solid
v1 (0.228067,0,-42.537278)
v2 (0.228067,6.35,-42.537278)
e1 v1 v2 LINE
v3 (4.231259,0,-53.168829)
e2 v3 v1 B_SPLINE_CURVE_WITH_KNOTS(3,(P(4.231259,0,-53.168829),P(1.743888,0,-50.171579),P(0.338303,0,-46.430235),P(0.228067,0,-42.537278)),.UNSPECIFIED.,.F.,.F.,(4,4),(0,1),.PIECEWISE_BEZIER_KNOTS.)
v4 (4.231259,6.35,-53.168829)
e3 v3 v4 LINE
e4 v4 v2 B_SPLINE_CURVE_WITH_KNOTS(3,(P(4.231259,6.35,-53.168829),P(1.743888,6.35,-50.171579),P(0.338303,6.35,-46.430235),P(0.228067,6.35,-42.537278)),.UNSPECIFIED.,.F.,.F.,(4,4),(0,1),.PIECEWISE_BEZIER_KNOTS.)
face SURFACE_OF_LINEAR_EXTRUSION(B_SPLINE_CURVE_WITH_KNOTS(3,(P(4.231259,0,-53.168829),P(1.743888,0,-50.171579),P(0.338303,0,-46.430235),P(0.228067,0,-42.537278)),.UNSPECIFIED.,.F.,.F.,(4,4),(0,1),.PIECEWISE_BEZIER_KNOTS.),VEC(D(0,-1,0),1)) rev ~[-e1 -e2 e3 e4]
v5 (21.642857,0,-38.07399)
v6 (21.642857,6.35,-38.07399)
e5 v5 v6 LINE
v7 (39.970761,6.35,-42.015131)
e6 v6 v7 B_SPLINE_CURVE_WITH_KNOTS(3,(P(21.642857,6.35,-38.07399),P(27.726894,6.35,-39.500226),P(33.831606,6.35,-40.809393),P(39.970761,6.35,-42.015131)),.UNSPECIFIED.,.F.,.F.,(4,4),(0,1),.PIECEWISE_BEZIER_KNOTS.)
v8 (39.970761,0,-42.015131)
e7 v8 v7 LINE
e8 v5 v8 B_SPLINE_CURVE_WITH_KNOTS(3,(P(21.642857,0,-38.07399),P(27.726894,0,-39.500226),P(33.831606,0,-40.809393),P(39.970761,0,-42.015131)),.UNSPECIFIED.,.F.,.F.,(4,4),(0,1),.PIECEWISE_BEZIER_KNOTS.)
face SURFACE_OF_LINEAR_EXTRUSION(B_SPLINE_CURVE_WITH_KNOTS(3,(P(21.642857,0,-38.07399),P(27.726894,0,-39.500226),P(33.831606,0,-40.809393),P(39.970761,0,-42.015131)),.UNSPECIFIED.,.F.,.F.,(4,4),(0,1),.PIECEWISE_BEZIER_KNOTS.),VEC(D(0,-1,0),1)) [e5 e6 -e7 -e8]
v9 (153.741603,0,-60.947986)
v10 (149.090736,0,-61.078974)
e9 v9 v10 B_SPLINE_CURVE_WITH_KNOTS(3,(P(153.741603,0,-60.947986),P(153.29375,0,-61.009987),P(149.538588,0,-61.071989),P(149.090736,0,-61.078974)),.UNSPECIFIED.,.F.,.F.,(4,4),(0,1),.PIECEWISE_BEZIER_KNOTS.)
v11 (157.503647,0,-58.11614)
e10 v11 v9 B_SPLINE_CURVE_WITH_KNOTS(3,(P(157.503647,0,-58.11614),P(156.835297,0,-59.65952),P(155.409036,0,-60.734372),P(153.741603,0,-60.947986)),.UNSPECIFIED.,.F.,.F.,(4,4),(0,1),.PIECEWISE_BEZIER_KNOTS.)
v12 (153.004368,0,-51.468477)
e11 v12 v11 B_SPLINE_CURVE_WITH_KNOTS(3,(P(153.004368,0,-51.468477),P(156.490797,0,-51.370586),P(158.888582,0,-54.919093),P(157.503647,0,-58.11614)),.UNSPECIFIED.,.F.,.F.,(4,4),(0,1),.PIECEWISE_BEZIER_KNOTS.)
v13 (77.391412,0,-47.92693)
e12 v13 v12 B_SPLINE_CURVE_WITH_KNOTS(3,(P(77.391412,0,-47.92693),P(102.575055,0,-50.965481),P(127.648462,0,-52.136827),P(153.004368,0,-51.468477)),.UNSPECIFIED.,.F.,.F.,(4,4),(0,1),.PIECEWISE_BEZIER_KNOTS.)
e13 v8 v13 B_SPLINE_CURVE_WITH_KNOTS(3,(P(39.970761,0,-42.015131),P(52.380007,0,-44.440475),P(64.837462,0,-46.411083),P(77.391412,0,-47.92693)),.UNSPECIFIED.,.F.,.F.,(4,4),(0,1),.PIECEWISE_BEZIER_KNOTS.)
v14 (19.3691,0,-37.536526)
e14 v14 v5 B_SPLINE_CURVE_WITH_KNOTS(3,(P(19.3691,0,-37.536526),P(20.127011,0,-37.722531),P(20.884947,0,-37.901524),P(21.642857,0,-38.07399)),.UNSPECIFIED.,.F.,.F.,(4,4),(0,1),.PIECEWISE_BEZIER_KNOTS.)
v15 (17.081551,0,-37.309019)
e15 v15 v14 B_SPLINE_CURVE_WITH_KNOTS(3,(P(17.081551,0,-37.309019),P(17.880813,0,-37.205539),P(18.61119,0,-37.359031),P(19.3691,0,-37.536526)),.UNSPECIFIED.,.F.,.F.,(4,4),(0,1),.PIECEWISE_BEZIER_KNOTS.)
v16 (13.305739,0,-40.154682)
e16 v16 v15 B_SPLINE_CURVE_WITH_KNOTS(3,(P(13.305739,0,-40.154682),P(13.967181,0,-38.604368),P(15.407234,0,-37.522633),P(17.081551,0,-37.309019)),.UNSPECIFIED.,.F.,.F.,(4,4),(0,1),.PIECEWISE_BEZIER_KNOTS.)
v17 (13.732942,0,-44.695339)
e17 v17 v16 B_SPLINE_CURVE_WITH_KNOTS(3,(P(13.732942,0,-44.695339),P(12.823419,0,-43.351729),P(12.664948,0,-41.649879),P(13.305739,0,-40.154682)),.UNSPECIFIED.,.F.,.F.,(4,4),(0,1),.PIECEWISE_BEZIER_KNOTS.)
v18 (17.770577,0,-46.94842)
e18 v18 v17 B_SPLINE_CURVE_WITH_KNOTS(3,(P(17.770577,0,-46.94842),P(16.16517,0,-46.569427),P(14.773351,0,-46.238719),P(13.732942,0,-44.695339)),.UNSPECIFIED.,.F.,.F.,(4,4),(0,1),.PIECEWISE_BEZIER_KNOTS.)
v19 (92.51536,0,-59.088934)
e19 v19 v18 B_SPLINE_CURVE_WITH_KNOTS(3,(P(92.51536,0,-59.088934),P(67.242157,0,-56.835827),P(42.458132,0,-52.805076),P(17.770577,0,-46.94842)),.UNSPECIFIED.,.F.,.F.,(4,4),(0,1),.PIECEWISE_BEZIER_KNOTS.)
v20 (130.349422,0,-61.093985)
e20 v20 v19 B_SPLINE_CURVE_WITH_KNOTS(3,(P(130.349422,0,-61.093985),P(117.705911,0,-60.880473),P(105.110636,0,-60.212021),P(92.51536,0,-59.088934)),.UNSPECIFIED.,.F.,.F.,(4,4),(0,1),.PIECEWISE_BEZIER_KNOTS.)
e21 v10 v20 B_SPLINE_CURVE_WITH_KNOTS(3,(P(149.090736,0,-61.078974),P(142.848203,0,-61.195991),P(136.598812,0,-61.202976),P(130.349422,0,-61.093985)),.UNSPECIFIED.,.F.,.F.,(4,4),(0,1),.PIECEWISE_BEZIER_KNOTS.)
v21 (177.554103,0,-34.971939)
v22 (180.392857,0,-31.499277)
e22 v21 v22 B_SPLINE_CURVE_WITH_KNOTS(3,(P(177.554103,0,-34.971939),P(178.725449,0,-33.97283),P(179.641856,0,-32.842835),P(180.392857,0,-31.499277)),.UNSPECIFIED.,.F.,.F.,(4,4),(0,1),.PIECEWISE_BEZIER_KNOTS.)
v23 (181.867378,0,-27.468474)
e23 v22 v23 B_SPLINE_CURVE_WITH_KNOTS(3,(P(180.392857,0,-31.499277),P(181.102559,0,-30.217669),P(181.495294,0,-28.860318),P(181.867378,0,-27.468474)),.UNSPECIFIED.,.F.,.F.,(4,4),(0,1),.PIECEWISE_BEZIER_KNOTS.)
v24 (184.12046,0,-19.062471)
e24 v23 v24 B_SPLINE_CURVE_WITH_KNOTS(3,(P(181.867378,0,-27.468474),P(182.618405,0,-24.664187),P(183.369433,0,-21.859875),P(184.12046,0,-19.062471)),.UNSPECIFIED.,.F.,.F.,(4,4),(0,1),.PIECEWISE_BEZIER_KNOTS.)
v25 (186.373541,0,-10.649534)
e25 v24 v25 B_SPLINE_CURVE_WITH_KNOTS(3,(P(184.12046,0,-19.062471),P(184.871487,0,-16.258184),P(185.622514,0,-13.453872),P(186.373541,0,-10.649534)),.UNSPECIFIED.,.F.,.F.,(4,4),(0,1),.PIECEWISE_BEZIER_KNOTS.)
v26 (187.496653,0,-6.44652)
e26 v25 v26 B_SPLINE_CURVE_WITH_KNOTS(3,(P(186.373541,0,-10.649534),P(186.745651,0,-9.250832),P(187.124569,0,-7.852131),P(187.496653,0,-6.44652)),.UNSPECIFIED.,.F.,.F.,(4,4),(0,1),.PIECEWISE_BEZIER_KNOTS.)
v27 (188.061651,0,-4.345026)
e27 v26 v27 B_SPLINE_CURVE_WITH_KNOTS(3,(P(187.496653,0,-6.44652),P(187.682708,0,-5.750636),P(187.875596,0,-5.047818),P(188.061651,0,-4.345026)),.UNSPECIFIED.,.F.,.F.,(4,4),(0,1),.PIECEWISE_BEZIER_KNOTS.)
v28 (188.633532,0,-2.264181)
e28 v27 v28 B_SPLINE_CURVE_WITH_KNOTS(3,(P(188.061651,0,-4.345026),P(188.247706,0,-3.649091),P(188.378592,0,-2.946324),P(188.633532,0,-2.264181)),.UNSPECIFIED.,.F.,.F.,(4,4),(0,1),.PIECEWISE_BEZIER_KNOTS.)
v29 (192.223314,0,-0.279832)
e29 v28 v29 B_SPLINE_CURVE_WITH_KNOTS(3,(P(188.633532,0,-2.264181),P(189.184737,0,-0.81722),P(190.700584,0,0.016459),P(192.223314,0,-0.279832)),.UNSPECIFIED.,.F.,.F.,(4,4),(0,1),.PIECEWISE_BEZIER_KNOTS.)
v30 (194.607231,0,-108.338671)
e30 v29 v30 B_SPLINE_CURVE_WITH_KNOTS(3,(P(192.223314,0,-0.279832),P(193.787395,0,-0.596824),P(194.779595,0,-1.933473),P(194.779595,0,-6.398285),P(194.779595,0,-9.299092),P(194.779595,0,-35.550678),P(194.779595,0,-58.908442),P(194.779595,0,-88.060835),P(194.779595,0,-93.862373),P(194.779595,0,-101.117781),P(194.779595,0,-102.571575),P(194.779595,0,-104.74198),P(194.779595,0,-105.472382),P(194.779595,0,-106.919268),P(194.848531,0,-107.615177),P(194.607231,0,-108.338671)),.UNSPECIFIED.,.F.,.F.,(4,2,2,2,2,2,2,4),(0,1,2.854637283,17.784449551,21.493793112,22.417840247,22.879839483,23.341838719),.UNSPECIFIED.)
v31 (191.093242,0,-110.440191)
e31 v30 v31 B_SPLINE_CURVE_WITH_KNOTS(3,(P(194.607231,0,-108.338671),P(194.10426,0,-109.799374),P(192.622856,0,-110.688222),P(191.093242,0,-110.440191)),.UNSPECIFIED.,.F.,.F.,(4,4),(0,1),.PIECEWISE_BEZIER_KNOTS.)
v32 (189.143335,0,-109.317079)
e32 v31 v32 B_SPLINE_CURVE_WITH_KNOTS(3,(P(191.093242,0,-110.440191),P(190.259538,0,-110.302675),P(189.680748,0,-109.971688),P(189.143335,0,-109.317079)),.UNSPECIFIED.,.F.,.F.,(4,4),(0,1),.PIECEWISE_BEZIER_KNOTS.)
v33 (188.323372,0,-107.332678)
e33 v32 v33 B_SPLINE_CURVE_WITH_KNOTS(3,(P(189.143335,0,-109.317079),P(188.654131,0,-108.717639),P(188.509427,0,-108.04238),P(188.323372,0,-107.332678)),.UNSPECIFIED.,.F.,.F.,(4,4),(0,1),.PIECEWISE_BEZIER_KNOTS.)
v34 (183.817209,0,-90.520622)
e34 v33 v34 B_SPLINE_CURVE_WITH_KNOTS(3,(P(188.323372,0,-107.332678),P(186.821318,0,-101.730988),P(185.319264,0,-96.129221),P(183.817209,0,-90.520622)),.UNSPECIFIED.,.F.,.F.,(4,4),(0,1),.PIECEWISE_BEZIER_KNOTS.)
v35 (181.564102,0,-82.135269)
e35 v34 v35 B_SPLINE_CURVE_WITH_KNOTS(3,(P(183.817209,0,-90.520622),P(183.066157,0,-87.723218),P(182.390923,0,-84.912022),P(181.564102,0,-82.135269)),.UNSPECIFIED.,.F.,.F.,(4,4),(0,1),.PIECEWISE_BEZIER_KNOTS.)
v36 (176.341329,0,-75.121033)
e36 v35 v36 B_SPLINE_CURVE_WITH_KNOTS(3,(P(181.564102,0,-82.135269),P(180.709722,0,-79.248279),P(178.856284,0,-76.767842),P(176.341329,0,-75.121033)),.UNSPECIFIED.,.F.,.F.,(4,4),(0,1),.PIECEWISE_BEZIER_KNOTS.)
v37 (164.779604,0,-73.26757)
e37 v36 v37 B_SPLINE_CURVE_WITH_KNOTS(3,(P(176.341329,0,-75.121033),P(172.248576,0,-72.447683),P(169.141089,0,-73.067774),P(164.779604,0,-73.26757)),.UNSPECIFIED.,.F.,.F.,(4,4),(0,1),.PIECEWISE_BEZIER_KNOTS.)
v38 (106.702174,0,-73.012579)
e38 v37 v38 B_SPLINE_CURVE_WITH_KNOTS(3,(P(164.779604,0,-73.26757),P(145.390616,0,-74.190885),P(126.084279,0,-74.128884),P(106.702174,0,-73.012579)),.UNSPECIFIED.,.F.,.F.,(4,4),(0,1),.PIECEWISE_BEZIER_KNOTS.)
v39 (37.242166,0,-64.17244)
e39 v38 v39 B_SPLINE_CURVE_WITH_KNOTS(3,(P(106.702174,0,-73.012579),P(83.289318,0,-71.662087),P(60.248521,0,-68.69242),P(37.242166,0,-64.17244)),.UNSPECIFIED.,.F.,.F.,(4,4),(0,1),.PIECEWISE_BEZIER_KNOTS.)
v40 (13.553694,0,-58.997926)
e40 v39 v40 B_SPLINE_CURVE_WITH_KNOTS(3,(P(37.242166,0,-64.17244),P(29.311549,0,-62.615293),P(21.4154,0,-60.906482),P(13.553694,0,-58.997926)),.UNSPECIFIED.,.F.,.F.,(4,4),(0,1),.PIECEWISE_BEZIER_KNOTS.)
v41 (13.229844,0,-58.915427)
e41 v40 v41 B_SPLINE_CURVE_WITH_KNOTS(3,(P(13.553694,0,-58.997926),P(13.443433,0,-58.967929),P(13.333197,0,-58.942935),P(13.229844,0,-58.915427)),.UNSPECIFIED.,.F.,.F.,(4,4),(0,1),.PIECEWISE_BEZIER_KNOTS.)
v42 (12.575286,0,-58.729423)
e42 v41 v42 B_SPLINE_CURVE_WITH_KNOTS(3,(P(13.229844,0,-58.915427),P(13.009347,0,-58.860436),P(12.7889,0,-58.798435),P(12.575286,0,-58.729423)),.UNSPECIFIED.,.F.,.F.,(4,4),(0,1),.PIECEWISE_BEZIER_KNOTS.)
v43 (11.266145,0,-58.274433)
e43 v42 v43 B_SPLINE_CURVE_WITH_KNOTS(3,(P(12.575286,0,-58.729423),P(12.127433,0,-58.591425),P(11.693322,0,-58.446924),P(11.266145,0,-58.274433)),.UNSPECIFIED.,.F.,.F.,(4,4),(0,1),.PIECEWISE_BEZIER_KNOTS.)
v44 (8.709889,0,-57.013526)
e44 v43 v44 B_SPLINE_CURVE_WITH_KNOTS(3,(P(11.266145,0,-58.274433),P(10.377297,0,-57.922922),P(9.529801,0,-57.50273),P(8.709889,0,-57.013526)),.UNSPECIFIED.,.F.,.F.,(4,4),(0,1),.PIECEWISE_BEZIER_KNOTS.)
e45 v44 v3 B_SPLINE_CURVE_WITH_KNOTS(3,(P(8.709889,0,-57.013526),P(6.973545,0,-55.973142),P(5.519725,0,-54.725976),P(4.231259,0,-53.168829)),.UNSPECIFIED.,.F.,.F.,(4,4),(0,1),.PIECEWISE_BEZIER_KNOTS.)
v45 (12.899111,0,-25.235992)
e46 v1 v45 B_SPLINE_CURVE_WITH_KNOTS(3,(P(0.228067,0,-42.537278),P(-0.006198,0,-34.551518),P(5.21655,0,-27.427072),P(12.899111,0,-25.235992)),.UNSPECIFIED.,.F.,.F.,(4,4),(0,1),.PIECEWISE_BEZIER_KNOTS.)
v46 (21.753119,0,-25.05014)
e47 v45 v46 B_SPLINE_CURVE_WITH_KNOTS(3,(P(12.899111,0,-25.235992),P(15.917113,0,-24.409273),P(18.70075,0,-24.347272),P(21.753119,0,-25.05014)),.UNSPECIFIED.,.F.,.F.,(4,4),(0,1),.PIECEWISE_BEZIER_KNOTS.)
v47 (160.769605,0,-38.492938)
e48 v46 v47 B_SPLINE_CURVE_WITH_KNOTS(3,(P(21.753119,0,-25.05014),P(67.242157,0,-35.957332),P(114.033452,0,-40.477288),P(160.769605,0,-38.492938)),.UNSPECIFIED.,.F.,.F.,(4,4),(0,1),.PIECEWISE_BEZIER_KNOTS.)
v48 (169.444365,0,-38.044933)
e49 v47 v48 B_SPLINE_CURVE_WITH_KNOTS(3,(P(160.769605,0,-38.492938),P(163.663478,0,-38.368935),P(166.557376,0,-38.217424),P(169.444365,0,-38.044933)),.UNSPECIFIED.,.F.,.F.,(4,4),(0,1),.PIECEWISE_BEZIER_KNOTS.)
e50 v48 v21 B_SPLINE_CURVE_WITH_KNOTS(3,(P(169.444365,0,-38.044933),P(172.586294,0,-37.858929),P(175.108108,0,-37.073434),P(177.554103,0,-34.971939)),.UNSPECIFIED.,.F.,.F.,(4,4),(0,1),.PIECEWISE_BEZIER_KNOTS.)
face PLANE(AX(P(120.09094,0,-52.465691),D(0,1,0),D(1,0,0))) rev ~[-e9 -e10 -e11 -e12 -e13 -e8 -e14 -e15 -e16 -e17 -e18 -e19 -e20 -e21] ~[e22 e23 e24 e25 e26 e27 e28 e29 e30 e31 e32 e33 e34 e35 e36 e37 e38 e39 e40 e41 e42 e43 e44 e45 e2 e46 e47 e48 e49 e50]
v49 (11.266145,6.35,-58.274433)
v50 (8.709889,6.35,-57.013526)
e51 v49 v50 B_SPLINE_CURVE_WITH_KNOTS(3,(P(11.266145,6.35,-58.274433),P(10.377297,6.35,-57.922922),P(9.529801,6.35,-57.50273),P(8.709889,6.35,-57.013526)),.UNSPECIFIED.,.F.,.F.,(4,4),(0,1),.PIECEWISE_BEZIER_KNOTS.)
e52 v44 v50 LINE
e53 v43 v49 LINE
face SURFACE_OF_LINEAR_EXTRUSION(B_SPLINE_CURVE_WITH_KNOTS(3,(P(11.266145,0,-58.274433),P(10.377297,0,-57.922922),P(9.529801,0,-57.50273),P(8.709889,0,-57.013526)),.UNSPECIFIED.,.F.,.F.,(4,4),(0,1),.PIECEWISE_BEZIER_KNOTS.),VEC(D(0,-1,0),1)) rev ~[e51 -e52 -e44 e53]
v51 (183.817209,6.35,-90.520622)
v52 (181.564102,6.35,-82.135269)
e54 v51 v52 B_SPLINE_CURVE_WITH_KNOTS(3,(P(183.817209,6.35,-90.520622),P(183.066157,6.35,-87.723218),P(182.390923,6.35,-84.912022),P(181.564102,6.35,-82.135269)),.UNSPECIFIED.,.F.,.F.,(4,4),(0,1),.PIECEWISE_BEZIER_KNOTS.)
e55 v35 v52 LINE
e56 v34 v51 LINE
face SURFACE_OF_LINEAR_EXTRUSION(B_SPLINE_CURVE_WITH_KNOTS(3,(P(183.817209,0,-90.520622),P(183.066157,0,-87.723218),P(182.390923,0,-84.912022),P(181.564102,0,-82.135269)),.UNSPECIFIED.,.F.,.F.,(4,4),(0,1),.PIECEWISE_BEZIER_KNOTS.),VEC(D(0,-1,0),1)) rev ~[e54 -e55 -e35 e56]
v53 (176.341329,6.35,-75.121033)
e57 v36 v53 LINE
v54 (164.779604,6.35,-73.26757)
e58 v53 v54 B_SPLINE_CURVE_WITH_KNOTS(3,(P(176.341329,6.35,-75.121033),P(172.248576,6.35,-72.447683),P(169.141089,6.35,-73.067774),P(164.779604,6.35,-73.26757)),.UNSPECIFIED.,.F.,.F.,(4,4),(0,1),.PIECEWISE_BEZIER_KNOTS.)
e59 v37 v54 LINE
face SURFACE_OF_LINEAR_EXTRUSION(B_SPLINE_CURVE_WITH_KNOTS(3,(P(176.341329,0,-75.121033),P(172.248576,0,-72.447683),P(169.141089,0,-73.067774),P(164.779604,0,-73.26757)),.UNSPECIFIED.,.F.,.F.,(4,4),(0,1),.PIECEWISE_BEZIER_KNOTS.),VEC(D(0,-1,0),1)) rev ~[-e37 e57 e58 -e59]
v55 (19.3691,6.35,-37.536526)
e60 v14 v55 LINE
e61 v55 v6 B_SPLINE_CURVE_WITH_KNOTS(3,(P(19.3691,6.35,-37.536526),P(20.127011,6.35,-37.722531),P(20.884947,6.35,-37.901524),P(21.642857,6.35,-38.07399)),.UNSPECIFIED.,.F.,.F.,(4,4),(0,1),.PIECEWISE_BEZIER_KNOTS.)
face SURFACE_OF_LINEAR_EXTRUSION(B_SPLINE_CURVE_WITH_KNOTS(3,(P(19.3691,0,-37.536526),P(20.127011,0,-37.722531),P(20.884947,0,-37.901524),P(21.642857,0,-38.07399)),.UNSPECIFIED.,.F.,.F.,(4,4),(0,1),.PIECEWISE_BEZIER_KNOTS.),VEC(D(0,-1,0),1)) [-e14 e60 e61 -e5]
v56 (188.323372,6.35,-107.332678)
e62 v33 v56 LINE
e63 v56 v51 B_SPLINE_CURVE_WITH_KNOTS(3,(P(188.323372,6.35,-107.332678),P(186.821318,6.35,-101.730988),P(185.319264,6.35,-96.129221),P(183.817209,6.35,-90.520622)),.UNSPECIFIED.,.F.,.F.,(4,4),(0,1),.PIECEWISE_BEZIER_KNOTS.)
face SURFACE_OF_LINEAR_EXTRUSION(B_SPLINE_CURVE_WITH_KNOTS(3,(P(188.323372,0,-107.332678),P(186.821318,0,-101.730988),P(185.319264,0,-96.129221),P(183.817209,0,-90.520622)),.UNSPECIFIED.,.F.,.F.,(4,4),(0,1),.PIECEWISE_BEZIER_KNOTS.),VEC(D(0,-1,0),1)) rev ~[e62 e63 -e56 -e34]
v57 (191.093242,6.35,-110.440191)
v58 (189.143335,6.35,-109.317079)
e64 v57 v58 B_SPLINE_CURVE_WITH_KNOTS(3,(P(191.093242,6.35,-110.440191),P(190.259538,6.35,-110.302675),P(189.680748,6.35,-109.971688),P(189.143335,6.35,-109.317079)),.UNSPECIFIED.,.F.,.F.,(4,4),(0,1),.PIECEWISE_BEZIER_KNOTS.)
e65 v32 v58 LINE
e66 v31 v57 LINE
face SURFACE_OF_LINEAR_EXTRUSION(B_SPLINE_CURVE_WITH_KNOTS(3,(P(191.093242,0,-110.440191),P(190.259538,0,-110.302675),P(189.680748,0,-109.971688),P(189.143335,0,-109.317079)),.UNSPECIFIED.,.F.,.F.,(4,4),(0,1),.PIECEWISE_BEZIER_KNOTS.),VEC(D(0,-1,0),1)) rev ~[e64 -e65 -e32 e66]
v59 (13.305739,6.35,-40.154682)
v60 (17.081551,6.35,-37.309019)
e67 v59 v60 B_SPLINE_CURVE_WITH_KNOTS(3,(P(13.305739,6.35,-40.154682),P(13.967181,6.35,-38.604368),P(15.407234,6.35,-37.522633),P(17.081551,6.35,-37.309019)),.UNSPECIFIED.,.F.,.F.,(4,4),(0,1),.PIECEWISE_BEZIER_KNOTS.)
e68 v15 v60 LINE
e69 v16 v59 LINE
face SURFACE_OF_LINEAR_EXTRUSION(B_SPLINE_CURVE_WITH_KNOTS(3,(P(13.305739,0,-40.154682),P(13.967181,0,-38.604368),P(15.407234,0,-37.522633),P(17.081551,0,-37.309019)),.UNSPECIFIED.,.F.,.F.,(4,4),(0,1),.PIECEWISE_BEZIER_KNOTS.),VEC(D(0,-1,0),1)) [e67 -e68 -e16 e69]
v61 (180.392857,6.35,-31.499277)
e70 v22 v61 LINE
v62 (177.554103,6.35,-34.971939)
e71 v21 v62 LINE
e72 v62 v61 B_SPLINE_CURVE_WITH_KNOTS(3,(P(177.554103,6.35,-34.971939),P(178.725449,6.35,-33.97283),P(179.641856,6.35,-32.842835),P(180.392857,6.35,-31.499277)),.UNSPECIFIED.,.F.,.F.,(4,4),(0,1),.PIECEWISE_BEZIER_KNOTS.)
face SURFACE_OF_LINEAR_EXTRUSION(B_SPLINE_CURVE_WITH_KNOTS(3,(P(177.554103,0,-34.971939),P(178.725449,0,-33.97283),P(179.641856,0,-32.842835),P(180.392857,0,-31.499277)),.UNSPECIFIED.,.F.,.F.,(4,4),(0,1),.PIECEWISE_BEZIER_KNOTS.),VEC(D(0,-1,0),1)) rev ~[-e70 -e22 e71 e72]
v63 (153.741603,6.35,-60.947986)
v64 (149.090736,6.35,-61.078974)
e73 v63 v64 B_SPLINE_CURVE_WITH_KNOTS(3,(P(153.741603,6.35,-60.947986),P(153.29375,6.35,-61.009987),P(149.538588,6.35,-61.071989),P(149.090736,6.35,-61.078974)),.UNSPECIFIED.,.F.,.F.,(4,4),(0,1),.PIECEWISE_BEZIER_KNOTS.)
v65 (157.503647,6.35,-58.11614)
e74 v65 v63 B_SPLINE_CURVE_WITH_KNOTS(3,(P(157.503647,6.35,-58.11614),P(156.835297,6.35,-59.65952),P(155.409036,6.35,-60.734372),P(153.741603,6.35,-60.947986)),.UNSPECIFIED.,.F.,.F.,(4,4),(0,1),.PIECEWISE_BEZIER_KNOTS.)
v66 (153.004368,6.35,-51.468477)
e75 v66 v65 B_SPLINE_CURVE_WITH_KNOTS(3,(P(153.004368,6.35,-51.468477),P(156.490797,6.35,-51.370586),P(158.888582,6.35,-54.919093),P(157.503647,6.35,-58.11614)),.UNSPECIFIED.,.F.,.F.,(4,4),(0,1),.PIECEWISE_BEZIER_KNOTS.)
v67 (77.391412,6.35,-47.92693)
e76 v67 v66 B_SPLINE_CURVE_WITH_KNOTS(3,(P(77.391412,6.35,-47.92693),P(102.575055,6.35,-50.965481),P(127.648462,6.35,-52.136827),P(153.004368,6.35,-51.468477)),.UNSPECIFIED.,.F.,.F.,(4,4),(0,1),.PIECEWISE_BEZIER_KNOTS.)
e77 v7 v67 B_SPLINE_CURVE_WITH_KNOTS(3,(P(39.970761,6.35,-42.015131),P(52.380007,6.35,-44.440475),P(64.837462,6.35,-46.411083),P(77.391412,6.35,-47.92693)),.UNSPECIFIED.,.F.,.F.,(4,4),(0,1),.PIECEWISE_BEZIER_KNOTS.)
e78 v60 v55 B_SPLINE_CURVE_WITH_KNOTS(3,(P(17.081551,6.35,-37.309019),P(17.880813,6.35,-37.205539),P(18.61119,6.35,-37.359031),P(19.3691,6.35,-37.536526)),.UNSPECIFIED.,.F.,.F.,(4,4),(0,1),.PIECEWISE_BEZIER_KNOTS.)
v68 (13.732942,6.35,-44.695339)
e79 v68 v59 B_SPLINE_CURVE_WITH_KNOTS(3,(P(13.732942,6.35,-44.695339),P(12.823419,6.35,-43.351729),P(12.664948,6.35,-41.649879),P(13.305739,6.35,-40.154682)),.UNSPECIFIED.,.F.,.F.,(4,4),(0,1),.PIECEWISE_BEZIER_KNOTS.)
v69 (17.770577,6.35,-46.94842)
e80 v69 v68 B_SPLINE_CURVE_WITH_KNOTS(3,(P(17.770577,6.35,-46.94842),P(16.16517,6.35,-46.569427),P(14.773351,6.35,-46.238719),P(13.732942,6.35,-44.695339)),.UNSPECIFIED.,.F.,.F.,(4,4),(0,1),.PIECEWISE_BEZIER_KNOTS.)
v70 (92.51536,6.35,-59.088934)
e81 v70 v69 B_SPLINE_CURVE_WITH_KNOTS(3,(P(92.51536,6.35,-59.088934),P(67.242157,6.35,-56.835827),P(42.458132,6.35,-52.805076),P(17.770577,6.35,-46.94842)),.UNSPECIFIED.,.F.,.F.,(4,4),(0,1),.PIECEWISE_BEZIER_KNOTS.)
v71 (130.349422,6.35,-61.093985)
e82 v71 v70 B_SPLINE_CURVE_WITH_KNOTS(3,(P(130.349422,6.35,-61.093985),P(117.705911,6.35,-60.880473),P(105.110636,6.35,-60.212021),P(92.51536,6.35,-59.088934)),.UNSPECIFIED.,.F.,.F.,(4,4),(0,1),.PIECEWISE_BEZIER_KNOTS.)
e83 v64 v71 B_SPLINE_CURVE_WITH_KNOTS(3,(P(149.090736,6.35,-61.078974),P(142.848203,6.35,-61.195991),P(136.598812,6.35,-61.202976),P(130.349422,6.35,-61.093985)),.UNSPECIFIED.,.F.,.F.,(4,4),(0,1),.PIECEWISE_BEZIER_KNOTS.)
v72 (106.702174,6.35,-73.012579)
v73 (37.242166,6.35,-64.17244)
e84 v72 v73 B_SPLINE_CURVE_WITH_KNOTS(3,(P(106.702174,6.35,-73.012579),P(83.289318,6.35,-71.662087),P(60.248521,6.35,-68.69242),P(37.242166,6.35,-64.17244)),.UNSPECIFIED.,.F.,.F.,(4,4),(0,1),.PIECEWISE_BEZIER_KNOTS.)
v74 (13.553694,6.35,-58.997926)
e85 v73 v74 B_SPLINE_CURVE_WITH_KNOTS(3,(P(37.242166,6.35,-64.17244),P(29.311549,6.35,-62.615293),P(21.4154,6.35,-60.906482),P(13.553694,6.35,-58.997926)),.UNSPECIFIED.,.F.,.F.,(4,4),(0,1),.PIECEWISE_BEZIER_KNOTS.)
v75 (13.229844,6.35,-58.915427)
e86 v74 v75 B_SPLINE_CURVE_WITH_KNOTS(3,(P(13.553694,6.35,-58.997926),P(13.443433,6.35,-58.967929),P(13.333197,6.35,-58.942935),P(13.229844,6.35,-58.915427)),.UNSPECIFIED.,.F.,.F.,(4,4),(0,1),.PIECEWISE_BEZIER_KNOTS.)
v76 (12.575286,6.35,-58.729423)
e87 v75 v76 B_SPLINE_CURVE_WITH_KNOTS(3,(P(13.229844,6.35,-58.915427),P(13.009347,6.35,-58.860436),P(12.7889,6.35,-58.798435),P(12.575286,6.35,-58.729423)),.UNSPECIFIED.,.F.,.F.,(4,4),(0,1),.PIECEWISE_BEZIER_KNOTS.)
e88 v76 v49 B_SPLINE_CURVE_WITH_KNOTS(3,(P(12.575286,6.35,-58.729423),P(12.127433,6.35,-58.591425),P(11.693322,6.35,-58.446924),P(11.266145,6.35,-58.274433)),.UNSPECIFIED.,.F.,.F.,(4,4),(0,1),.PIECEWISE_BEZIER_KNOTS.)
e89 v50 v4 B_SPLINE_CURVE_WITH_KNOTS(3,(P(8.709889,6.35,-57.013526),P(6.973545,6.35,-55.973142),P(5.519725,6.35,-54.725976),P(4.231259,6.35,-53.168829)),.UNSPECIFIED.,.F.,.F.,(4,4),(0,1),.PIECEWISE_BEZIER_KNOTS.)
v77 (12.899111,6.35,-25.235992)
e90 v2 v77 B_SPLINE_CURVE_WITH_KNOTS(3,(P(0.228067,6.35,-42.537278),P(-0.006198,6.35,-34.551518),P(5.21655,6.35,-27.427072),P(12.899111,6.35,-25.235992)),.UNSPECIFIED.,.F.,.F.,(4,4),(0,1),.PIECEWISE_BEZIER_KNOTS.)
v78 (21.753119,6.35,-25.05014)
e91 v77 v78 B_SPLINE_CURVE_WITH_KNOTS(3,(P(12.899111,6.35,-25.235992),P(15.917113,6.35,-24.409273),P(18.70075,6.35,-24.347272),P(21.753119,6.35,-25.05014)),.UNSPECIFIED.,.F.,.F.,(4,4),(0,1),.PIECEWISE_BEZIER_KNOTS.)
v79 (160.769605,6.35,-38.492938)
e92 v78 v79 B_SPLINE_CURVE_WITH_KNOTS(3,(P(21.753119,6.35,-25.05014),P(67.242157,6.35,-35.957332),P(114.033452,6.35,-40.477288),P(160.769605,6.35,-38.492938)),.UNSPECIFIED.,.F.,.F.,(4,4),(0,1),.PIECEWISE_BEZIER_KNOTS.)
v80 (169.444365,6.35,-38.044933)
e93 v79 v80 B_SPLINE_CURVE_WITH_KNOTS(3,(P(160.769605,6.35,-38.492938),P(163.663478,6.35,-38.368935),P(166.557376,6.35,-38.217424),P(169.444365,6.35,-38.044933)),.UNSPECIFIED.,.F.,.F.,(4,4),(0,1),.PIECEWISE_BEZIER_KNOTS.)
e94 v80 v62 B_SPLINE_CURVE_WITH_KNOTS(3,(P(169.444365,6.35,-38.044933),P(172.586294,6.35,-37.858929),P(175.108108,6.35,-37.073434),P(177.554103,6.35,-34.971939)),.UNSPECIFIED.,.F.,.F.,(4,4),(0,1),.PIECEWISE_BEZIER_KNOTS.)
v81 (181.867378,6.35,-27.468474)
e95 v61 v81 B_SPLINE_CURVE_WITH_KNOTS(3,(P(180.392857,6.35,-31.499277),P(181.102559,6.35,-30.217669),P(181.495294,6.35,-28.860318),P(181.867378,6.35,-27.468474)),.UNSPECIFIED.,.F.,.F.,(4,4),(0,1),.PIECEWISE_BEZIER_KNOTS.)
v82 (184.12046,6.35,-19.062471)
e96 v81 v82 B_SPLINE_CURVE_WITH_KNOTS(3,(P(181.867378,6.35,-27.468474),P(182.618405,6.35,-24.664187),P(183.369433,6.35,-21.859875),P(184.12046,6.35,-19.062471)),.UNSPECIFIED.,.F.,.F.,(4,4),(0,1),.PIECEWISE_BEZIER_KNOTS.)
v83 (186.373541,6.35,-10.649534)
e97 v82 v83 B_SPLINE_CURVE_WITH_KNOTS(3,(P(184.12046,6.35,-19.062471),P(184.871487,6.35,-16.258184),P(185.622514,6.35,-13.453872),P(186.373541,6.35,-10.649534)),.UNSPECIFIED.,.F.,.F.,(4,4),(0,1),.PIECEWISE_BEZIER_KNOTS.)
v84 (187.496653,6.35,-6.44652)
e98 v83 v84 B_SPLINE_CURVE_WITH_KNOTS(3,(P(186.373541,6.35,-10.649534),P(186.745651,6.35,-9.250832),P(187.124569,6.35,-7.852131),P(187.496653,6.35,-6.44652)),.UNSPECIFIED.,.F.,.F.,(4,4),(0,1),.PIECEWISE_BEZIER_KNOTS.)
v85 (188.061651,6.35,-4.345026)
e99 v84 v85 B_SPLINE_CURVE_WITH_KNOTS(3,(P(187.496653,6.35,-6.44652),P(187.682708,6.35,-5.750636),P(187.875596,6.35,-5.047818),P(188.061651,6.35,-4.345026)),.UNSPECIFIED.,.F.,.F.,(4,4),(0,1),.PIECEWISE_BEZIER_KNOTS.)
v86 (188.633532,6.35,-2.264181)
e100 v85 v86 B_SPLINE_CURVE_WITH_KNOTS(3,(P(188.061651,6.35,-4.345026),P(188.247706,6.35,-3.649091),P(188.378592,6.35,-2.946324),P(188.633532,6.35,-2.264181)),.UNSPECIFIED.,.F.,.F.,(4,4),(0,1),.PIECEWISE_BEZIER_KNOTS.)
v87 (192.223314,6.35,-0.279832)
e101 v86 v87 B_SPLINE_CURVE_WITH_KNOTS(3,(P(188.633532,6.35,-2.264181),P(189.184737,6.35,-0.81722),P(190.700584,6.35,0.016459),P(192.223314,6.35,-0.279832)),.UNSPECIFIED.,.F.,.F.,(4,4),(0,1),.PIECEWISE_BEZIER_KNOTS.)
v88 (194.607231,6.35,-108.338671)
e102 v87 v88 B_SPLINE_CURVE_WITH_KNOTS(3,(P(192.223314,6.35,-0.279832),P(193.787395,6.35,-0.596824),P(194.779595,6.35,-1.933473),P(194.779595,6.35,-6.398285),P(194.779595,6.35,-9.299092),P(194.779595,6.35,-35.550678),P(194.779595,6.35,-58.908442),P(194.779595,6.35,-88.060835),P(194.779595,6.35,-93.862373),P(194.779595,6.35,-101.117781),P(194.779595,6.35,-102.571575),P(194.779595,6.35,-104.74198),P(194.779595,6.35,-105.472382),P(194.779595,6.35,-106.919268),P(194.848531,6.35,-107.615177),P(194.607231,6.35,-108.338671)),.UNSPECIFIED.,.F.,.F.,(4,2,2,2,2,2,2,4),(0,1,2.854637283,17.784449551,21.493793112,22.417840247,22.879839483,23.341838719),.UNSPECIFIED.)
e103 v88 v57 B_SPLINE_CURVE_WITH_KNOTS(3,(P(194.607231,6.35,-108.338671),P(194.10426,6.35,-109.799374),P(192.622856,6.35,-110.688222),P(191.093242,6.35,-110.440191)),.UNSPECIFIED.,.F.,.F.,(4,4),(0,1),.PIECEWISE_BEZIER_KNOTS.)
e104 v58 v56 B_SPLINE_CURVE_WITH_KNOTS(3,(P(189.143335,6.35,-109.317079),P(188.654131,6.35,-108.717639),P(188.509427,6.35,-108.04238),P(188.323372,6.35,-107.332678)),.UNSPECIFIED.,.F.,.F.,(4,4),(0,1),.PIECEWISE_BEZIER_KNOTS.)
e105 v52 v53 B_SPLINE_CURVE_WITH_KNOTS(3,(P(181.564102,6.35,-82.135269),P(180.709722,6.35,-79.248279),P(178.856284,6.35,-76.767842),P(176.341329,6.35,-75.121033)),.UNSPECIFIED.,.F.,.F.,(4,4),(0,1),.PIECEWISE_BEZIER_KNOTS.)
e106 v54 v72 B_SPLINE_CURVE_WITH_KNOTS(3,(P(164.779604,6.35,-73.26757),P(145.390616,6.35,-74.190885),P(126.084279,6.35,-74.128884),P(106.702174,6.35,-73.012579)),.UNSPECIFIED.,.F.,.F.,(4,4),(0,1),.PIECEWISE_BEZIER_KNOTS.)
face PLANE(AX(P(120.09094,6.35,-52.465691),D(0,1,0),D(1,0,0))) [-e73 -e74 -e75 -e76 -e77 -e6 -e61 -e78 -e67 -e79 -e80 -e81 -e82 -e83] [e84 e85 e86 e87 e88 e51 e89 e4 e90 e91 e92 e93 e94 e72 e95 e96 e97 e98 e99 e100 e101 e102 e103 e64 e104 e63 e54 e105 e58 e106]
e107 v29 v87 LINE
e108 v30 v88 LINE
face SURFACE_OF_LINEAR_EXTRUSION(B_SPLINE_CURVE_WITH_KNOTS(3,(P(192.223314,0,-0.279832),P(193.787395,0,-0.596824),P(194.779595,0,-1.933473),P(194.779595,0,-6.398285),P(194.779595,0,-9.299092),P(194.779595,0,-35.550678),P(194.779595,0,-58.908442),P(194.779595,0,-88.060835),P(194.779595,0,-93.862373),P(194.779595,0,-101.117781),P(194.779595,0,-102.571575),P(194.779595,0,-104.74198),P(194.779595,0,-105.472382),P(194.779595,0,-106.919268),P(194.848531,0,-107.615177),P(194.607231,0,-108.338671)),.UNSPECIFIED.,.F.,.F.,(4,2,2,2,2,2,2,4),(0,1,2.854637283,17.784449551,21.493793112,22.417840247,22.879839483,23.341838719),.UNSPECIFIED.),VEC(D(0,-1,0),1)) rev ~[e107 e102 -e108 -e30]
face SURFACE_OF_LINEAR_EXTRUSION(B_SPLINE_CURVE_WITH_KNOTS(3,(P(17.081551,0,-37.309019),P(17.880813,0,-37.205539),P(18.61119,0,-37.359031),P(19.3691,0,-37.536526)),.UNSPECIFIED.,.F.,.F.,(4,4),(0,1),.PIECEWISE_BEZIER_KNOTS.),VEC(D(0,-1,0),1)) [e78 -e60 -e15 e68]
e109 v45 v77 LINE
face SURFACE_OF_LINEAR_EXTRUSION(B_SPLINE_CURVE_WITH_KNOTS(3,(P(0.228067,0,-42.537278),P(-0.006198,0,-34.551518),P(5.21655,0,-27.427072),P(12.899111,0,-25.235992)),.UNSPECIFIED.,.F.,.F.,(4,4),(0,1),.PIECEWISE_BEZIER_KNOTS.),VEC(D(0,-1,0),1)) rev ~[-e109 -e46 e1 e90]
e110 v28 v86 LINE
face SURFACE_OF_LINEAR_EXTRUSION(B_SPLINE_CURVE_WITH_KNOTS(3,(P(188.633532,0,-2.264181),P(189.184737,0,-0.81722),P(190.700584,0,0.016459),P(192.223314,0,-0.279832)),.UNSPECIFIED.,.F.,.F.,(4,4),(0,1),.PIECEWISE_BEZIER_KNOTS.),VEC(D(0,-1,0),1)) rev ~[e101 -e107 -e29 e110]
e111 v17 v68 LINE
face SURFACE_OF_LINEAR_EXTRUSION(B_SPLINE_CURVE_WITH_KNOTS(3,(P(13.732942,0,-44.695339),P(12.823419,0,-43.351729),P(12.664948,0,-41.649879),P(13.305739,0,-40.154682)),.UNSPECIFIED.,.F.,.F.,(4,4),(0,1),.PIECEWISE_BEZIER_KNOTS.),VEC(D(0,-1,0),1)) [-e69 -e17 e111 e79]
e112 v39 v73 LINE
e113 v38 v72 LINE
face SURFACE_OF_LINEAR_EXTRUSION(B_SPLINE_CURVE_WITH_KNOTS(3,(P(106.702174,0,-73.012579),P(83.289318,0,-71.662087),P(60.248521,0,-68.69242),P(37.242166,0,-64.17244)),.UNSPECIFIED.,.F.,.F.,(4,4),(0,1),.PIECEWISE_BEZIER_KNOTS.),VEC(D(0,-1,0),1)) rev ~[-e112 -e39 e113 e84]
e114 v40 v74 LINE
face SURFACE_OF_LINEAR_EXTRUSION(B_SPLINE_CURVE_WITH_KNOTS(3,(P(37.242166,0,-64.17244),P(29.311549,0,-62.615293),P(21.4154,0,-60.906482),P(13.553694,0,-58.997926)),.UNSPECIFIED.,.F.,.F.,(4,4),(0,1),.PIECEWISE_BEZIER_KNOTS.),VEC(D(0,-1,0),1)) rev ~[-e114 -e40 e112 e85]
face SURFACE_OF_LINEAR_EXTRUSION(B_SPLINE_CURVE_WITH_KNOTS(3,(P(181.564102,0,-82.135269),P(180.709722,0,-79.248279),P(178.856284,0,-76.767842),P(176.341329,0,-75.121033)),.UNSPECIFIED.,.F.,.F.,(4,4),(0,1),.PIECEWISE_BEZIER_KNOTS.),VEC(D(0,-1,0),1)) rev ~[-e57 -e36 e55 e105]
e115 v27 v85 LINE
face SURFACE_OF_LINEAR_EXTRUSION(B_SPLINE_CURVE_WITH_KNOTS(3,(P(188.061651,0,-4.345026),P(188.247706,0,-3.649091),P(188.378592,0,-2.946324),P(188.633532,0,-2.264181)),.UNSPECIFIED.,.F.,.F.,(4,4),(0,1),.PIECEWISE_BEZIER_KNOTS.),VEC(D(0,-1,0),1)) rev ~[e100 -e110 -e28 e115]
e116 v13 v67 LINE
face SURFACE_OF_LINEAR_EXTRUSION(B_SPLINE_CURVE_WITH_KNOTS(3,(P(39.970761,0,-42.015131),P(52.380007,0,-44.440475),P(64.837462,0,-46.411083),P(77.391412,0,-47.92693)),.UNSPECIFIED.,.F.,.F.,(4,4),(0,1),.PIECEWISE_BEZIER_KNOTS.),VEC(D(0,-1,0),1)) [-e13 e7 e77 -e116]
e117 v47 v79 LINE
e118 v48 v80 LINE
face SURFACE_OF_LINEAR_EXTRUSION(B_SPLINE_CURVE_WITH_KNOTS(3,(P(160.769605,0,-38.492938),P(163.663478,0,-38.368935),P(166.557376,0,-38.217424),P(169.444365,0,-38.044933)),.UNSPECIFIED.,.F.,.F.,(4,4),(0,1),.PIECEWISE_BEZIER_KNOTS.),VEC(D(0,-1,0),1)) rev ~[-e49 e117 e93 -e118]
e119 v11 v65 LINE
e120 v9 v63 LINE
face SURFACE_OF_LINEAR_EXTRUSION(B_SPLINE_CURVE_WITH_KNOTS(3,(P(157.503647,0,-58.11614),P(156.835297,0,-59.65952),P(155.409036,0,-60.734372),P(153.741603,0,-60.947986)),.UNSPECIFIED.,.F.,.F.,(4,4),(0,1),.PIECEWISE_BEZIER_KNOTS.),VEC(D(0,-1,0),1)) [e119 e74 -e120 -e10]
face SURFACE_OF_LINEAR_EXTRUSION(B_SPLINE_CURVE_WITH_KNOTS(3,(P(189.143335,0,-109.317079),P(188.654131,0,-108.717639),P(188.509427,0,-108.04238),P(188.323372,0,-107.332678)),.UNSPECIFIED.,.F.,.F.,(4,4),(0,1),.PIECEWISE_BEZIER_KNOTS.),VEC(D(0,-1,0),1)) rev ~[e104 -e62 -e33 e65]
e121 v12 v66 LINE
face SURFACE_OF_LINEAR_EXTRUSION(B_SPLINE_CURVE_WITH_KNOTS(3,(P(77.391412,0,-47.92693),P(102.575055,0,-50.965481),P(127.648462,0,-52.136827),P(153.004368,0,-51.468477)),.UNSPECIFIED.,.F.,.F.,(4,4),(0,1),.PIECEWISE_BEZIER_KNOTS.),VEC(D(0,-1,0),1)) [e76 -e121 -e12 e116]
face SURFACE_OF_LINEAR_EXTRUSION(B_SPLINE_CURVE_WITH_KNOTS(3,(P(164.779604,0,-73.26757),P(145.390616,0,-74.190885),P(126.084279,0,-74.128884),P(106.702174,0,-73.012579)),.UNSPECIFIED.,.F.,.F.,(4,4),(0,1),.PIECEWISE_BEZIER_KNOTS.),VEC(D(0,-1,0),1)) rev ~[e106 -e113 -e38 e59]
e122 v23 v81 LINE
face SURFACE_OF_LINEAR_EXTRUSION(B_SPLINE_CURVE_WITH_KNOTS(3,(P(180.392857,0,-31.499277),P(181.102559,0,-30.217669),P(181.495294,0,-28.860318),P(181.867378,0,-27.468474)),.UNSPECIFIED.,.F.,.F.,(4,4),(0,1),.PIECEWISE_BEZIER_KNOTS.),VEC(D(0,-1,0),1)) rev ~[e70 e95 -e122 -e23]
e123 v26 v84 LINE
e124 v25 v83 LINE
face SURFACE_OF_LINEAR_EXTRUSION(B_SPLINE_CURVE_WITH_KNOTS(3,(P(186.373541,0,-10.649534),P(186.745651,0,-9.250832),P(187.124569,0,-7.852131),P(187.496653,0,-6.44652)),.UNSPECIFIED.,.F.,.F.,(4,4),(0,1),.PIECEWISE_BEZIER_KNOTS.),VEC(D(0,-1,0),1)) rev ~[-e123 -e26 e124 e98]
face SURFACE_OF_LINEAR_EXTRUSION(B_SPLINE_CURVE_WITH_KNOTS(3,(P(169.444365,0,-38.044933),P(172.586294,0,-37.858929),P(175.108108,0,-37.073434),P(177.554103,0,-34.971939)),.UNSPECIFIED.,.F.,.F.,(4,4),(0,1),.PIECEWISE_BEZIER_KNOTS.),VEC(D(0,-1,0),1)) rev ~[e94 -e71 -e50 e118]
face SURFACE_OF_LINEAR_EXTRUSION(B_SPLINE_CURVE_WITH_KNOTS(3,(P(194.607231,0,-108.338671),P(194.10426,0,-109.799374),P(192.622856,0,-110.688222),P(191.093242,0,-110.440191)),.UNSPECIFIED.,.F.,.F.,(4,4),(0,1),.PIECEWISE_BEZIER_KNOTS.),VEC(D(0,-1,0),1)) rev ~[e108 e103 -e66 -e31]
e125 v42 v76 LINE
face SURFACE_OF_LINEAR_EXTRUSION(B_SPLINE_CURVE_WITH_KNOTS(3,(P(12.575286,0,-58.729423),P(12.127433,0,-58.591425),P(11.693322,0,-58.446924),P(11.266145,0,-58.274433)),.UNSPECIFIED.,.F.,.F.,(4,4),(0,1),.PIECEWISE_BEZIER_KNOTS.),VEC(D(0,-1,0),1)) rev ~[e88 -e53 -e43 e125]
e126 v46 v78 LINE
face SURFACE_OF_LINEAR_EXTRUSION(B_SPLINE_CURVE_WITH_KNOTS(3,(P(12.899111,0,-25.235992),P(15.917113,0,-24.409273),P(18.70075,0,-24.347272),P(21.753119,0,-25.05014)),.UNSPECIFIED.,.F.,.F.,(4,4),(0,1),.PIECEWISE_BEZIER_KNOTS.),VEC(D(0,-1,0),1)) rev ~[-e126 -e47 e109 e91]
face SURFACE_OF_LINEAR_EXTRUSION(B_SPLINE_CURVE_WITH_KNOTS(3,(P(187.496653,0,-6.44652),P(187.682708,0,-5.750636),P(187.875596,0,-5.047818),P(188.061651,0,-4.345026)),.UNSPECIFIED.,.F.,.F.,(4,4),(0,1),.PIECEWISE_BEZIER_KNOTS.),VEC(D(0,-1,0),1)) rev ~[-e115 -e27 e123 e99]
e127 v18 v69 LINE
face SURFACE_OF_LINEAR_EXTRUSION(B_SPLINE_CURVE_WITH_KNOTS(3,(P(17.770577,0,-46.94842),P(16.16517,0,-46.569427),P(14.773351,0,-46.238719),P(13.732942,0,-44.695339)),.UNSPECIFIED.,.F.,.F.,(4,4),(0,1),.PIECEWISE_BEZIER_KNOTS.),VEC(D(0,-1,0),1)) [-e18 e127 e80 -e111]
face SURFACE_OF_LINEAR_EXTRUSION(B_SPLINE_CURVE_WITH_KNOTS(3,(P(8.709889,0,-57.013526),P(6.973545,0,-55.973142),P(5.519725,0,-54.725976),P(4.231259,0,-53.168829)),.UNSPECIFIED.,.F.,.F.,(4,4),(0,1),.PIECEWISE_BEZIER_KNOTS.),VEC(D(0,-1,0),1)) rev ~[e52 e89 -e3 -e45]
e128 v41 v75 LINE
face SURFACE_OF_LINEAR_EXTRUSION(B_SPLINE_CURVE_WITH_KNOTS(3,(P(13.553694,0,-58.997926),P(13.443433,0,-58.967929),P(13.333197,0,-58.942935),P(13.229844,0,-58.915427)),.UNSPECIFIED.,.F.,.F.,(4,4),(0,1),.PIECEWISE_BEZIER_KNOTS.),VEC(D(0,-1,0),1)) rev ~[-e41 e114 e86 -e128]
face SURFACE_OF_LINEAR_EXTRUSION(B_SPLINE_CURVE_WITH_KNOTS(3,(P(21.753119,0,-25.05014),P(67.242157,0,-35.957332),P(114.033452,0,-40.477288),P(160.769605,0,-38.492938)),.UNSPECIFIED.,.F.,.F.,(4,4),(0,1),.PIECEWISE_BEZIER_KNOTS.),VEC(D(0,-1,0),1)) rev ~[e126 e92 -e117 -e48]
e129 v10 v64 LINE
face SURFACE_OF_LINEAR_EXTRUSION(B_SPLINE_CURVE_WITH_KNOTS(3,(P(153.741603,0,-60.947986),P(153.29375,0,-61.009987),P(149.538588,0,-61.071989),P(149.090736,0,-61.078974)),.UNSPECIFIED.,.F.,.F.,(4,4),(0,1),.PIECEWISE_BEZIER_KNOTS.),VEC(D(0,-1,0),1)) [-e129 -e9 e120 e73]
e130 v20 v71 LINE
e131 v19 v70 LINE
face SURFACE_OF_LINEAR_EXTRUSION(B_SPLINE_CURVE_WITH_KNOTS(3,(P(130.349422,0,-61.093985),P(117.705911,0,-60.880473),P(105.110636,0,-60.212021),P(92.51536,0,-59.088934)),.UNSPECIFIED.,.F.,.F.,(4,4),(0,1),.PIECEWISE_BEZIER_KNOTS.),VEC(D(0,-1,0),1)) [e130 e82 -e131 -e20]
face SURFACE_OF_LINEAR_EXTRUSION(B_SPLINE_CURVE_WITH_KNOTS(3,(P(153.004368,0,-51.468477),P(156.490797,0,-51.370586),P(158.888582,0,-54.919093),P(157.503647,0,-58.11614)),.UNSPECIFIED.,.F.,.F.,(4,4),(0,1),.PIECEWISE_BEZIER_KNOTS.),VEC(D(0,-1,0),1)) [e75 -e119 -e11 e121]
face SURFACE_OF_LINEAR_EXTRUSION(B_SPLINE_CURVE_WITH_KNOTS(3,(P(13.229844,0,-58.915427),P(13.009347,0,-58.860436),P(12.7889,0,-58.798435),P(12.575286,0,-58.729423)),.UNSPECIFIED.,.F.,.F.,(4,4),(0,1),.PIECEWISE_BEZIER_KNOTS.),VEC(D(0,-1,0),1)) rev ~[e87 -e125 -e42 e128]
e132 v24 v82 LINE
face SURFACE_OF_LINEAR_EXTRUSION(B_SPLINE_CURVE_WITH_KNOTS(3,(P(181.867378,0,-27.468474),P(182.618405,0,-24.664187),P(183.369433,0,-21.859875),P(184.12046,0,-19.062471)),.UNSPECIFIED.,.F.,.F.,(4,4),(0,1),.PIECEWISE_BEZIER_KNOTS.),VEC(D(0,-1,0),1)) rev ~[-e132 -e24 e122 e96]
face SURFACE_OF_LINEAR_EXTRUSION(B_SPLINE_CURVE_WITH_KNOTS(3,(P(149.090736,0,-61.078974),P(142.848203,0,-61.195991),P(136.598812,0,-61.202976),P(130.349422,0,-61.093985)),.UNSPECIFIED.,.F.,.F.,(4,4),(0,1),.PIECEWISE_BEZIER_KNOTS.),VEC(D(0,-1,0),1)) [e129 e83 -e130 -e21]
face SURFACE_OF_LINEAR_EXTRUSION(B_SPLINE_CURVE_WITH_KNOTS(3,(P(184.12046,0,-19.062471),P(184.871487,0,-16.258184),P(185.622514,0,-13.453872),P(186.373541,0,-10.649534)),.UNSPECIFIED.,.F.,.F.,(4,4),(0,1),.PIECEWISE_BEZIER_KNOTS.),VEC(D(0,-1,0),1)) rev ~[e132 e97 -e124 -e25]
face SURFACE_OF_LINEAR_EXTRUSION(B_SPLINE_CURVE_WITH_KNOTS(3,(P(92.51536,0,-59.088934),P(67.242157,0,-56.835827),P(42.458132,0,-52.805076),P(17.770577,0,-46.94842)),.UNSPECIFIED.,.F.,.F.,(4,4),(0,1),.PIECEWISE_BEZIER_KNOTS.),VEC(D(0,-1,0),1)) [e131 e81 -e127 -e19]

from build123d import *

# Parameters (mm, degrees)
BOSS_EXTRUDE1_DEPTH = 6.35


with BuildPart() as part:
    # Imported Profile → Boss-Extrude1 (new body)
    with BuildSketch(Plane(origin=(0, 0, 0), x_dir=(1, 0, 0), z_dir=(0, 1, 0))):
        with BuildLine():
            add(Edge.make_bspline(
                [(12.8991106, 25.2359922), (15.9171132, 24.409273), (18.70075, 24.3472716), (21.7531188, 25.0501404)],
                knots=[0, 0, 0, 0, 1, 1, 1, 1], degree=3))
            add(Edge.make_bspline(
                [(21.7531188, 25.0501404), (67.2421566, 35.9573322), (114.0334524, 40.4772876), (160.7696048, 38.492938)],
                knots=[0, 0, 0, 0, 1, 1, 1, 1], degree=3))
            add(Edge.make_bspline(
                [(160.7696048, 38.492938), (163.6634776, 38.3689352), (166.5573758, 38.2174242), (169.4443652, 38.0449328)],
                knots=[0, 0, 0, 0, 1, 1, 1, 1], degree=3))
            add(Edge.make_bspline(
                [(169.4443652, 38.0449328), (172.5862944, 37.8589286), (175.108108, 37.0734336), (177.5541026, 34.9719392)],
                knots=[0, 0, 0, 0, 1, 1, 1, 1], degree=3))
            add(Edge.make_bspline(
                [(177.5541026, 34.9719392), (178.725449, 33.9728302), (179.6418556, 32.842835), (180.3928574, 31.4992766)],
                knots=[0, 0, 0, 0, 1, 1, 1, 1], degree=3))
            add(Edge.make_bspline(
                [(180.3928574, 31.4992766), (181.1025588, 30.2176688), (181.4952936, 28.8603182), (181.8673782, 27.4684744)],
                knots=[0, 0, 0, 0, 1, 1, 1, 1], degree=3))
            add(Edge.make_bspline(
                [(181.8673782, 27.4684744), (182.6184054, 24.6641874), (183.3694326, 21.859875), (184.1204598, 19.0624714)],
                knots=[0, 0, 0, 0, 1, 1, 1, 1], degree=3))
            add(Edge.make_bspline(
                [(184.1204598, 19.0624714), (184.871487, 16.2581844), (185.6225142, 13.453872), (186.3735414, 10.6495342)],
                knots=[0, 0, 0, 0, 1, 1, 1, 1], degree=3))
            add(Edge.make_bspline(
                [(186.3735414, 10.6495342), (186.7456514, 9.2508324), (187.1245686, 7.8521306), (187.4966532, 6.44652)],
                knots=[0, 0, 0, 0, 1, 1, 1, 1], degree=3))
            add(Edge.make_bspline(
                [(187.4966532, 6.44652), (187.6827082, 5.7506362), (187.8755958, 5.0478182), (188.0616508, 4.3450256)],
                knots=[0, 0, 0, 0, 1, 1, 1, 1], degree=3))
            add(Edge.make_bspline(
                [(188.0616508, 4.3450256), (188.2477058, 3.649091), (188.378592, 2.9463238), (188.6335318, 2.2641814)],
                knots=[0, 0, 0, 0, 1, 1, 1, 1], degree=3))
            add(Edge.make_bspline(
                [(188.6335318, 2.2641814), (189.1847372, 0.8172196), (190.7005838, -0.0164592), (192.2233138, 0.2798318)],
                knots=[0, 0, 0, 0, 1, 1, 1, 1], degree=3))
            add(Edge.make_bspline(
                [(192.2233138, 0.2798318), (193.787395, 0.5968238), (194.7795952, 1.9334734), (194.7795952, 3.4975292)],
                knots=[0, 0, 0, 0, 1, 1, 1, 1], degree=3))
            add(Edge.make_bspline(
                [(194.7795952, 3.4975292), (194.7795952, 6.3982854), (194.7795952, 9.2990924), (194.7795952, 12.1998232)],
                knots=[0, 0, 0, 0, 1, 1, 1, 1], degree=3))
            add(Edge.make_bspline(
                [(194.7795952, 12.1998232), (194.7795952, 35.5506782), (194.7795952, 58.908442), (194.7795952, 82.2592716)],
                knots=[0, 0, 0, 0, 1, 1, 1, 1], degree=3))
            add(Edge.make_bspline(
                [(194.7795952, 82.2592716), (194.7795952, 88.0608348), (194.7795952, 93.8623726), (194.7795952, 99.6708192)],
                knots=[0, 0, 0, 0, 1, 1, 1, 1], degree=3))
            add(Edge.make_bspline(
                [(194.7795952, 99.6708192), (194.7795952, 101.117781), (194.7795952, 102.5715754), (194.7795952, 104.0185372)],
                knots=[0, 0, 0, 0, 1, 1, 1, 1], degree=3))
            add(Edge.make_bspline(
                [(194.7795952, 104.0185372), (194.7795952, 104.74198), (194.7795952, 105.4723824), (194.7795952, 106.1958252)],
                knots=[0, 0, 0, 0, 1, 1, 1, 1], degree=3))
            add(Edge.make_bspline(
                [(194.7795952, 106.1958252), (194.7795952, 106.919268), (194.8485308, 107.6151772), (194.6072308, 108.3386708)],
                knots=[0, 0, 0, 0, 1, 1, 1, 1], degree=3))
            add(Edge.make_bspline(
                [(194.6072308, 108.3386708), (194.10426, 109.799374), (192.6228558, 110.6882216), (191.0932424, 110.4401906)],
                knots=[0, 0, 0, 0, 1, 1, 1, 1], degree=3))
            add(Edge.make_bspline(
                [(191.0932424, 110.4401906), (190.2595382, 110.302675), (189.6807484, 109.9716876), (189.1433352, 109.3170788)],
                knots=[0, 0, 0, 0, 1, 1, 1, 1], degree=3))
            add(Edge.make_bspline(
                [(189.1433352, 109.3170788), (188.6541312, 108.7176388), (188.5094274, 108.0423798), (188.3233724, 107.3326784)],
                knots=[0, 0, 0, 0, 1, 1, 1, 1], degree=3))
            add(Edge.make_bspline(
                [(188.3233724, 107.3326784), (186.821318, 101.7309878), (185.3192636, 96.129221), (183.8172092, 90.5206216)],
                knots=[0, 0, 0, 0, 1, 1, 1, 1], degree=3))
            add(Edge.make_bspline(
                [(183.8172092, 90.5206216), (183.0661566, 87.723218), (182.390923, 84.9120222), (181.5641022, 82.1352688)],
                knots=[0, 0, 0, 0, 1, 1, 1, 1], degree=3))
            add(Edge.make_bspline(
                [(181.5641022, 82.1352688), (180.7097224, 79.2482794), (178.8562844, 76.7678424), (176.3413288, 75.1210334)],
                knots=[0, 0, 0, 0, 1, 1, 1, 1], degree=3))
            add(Edge.make_bspline(
                [(176.3413288, 75.1210334), (172.248576, 72.4476834), (169.1410892, 73.0677736), (164.7796044, 73.26757)],
                knots=[0, 0, 0, 0, 1, 1, 1, 1], degree=3))
            add(Edge.make_bspline(
                [(164.7796044, 73.26757), (145.390616, 74.1908854), (126.0842792, 74.128884), (106.7021742, 73.0125794)],
                knots=[0, 0, 0, 0, 1, 1, 1, 1], degree=3))
            add(Edge.make_bspline(
                [(106.7021742, 73.0125794), (83.2893178, 71.6620868), (60.2485206, 68.6924204), (37.2421658, 64.1724396)],
                knots=[0, 0, 0, 0, 1, 1, 1, 1], degree=3))
            add(Edge.make_bspline(
                [(37.2421658, 64.1724396), (29.3115492, 62.6152926), (21.4154004, 60.9064822), (13.553694, 58.9979262)],
                knots=[0, 0, 0, 0, 1, 1, 1, 1], degree=3))
            add(Edge.make_bspline(
                [(13.553694, 58.9979262), (13.4434326, 58.9679288), (13.3331966, 58.9429352), (13.229844, 58.915427)],
                knots=[0, 0, 0, 0, 1, 1, 1, 1], degree=3))
            add(Edge.make_bspline(
                [(13.229844, 58.915427), (13.0093466, 58.860436), (12.7889, 58.7984346), (12.575286, 58.7294228)],
                knots=[0, 0, 0, 0, 1, 1, 1, 1], degree=3))
            add(Edge.make_bspline(
                [(12.575286, 58.7294228), (12.1274332, 58.5914246), (11.6933218, 58.446924), (11.2661446, 58.2744326)],
                knots=[0, 0, 0, 0, 1, 1, 1, 1], degree=3))
            add(Edge.make_bspline(
                [(11.2661446, 58.2744326), (10.377297, 57.922922), (9.5298006, 57.5027298), (8.7098886, 57.0135258)],
                knots=[0, 0, 0, 0, 1, 1, 1, 1], degree=3))
            add(Edge.make_bspline(
                [(8.7098886, 57.0135258), (6.9735446, 55.9731418), (5.5197248, 54.7259764), (4.231259, 53.1688294)],
                knots=[0, 0, 0, 0, 1, 1, 1, 1], degree=3))
            add(Edge.make_bspline(
                [(4.231259, 53.1688294), (1.7438878, 50.1715786), (0.3383026, 46.4302348), (0.2280666, 42.5372784)],
                knots=[0, 0, 0, 0, 1, 1, 1, 1], degree=3))
            add(Edge.make_bspline(
                [(0.2280666, 42.5372784), (-0.0061976, 34.5515184), (5.2165504, 27.4270724), (12.8991106, 25.2359922)],
                knots=[0, 0, 0, 0, 1, 1, 1, 1], degree=3))
        make_face()
        with BuildLine():
            add(Edge.make_bspline(
                [(153.0043676, 51.4684772), (156.490797, 51.3705856), (158.8885824, 54.9190926), (157.5036474, 58.1161398)],
                knots=[0, 0, 0, 0, 1, 1, 1, 1], degree=3))
            add(Edge.make_bspline(
                [(157.5036474, 58.1161398), (156.8352972, 59.65952), (155.4090364, 60.7343718), (153.7416026, 60.9479858)],
                knots=[0, 0, 0, 0, 1, 1, 1, 1], degree=3))
            add(Edge.make_bspline(
                [(153.7416026, 60.9479858), (153.2937498, 61.0099872), (149.5385884, 61.0719886), (149.0907356, 61.0789736)],
                knots=[0, 0, 0, 0, 1, 1, 1, 1], degree=3))
            add(Edge.make_bspline(
                [(149.0907356, 61.0789736), (142.848203, 61.1959914), (136.5988124, 61.2029764), (130.3494218, 61.093985)],
                knots=[0, 0, 0, 0, 1, 1, 1, 1], degree=3))
            add(Edge.make_bspline(
                [(130.3494218, 61.093985), (117.7059114, 60.8804726), (105.1106356, 60.2120208), (92.5153598, 59.0889344)],
                knots=[0, 0, 0, 0, 1, 1, 1, 1], degree=3))
            add(Edge.make_bspline(
                [(92.5153598, 59.0889344), (67.2421566, 56.8358274), (42.458132, 52.805076), (17.7705766, 46.9484202)],
                knots=[0, 0, 0, 0, 1, 1, 1, 1], degree=3))
            add(Edge.make_bspline(
                [(17.7705766, 46.9484202), (16.1651696, 46.5694268), (14.7733512, 46.2387188), (13.7329418, 44.6953386)],
                knots=[0, 0, 0, 0, 1, 1, 1, 1], degree=3))
            add(Edge.make_bspline(
                [(13.7329418, 44.6953386), (12.8234186, 43.3517294), (12.664948, 41.6498786), (13.3057392, 40.1546822)],
                knots=[0, 0, 0, 0, 1, 1, 1, 1], degree=3))
            add(Edge.make_bspline(
                [(13.3057392, 40.1546822), (13.9671806, 38.6043678), (15.4072336, 37.5226326), (17.0815508, 37.3090186)],
                knots=[0, 0, 0, 0, 1, 1, 1, 1], degree=3))
            add(Edge.make_bspline(
                [(17.0815508, 37.3090186), (17.8808126, 37.205539), (18.6111896, 37.3590312), (19.3691002, 37.5365264)],
                knots=[0, 0, 0, 0, 1, 1, 1, 1], degree=3))
            add(Edge.make_bspline(
                [(19.3691002, 37.5365264), (20.1270108, 37.7225306), (20.8849468, 37.9015244), (21.6428574, 38.0739904)],
                knots=[0, 0, 0, 0, 1, 1, 1, 1], degree=3))
            add(Edge.make_bspline(
                [(21.6428574, 38.0739904), (27.726894, 39.5002258), (33.8316062, 40.8093926), (39.9707608, 42.0151306)],
                knots=[0, 0, 0, 0, 1, 1, 1, 1], degree=3))
            add(Edge.make_bspline(
                [(39.9707608, 42.0151306), (52.380007, 44.440475), (64.8374624, 46.4110832), (77.3914124, 47.9269298)],
                knots=[0, 0, 0, 0, 1, 1, 1, 1], degree=3))
            add(Edge.make_bspline(
                [(77.3914124, 47.9269298), (102.5750552, 50.965481), (127.648462, 52.1368274), (153.0043676, 51.4684772)],
                knots=[0, 0, 0, 0, 1, 1, 1, 1], degree=3))
        make_face(mode=Mode.SUBTRACT)
    extrude(amount=BOSS_EXTRUDE1_DEPTH)


solid = part.part
